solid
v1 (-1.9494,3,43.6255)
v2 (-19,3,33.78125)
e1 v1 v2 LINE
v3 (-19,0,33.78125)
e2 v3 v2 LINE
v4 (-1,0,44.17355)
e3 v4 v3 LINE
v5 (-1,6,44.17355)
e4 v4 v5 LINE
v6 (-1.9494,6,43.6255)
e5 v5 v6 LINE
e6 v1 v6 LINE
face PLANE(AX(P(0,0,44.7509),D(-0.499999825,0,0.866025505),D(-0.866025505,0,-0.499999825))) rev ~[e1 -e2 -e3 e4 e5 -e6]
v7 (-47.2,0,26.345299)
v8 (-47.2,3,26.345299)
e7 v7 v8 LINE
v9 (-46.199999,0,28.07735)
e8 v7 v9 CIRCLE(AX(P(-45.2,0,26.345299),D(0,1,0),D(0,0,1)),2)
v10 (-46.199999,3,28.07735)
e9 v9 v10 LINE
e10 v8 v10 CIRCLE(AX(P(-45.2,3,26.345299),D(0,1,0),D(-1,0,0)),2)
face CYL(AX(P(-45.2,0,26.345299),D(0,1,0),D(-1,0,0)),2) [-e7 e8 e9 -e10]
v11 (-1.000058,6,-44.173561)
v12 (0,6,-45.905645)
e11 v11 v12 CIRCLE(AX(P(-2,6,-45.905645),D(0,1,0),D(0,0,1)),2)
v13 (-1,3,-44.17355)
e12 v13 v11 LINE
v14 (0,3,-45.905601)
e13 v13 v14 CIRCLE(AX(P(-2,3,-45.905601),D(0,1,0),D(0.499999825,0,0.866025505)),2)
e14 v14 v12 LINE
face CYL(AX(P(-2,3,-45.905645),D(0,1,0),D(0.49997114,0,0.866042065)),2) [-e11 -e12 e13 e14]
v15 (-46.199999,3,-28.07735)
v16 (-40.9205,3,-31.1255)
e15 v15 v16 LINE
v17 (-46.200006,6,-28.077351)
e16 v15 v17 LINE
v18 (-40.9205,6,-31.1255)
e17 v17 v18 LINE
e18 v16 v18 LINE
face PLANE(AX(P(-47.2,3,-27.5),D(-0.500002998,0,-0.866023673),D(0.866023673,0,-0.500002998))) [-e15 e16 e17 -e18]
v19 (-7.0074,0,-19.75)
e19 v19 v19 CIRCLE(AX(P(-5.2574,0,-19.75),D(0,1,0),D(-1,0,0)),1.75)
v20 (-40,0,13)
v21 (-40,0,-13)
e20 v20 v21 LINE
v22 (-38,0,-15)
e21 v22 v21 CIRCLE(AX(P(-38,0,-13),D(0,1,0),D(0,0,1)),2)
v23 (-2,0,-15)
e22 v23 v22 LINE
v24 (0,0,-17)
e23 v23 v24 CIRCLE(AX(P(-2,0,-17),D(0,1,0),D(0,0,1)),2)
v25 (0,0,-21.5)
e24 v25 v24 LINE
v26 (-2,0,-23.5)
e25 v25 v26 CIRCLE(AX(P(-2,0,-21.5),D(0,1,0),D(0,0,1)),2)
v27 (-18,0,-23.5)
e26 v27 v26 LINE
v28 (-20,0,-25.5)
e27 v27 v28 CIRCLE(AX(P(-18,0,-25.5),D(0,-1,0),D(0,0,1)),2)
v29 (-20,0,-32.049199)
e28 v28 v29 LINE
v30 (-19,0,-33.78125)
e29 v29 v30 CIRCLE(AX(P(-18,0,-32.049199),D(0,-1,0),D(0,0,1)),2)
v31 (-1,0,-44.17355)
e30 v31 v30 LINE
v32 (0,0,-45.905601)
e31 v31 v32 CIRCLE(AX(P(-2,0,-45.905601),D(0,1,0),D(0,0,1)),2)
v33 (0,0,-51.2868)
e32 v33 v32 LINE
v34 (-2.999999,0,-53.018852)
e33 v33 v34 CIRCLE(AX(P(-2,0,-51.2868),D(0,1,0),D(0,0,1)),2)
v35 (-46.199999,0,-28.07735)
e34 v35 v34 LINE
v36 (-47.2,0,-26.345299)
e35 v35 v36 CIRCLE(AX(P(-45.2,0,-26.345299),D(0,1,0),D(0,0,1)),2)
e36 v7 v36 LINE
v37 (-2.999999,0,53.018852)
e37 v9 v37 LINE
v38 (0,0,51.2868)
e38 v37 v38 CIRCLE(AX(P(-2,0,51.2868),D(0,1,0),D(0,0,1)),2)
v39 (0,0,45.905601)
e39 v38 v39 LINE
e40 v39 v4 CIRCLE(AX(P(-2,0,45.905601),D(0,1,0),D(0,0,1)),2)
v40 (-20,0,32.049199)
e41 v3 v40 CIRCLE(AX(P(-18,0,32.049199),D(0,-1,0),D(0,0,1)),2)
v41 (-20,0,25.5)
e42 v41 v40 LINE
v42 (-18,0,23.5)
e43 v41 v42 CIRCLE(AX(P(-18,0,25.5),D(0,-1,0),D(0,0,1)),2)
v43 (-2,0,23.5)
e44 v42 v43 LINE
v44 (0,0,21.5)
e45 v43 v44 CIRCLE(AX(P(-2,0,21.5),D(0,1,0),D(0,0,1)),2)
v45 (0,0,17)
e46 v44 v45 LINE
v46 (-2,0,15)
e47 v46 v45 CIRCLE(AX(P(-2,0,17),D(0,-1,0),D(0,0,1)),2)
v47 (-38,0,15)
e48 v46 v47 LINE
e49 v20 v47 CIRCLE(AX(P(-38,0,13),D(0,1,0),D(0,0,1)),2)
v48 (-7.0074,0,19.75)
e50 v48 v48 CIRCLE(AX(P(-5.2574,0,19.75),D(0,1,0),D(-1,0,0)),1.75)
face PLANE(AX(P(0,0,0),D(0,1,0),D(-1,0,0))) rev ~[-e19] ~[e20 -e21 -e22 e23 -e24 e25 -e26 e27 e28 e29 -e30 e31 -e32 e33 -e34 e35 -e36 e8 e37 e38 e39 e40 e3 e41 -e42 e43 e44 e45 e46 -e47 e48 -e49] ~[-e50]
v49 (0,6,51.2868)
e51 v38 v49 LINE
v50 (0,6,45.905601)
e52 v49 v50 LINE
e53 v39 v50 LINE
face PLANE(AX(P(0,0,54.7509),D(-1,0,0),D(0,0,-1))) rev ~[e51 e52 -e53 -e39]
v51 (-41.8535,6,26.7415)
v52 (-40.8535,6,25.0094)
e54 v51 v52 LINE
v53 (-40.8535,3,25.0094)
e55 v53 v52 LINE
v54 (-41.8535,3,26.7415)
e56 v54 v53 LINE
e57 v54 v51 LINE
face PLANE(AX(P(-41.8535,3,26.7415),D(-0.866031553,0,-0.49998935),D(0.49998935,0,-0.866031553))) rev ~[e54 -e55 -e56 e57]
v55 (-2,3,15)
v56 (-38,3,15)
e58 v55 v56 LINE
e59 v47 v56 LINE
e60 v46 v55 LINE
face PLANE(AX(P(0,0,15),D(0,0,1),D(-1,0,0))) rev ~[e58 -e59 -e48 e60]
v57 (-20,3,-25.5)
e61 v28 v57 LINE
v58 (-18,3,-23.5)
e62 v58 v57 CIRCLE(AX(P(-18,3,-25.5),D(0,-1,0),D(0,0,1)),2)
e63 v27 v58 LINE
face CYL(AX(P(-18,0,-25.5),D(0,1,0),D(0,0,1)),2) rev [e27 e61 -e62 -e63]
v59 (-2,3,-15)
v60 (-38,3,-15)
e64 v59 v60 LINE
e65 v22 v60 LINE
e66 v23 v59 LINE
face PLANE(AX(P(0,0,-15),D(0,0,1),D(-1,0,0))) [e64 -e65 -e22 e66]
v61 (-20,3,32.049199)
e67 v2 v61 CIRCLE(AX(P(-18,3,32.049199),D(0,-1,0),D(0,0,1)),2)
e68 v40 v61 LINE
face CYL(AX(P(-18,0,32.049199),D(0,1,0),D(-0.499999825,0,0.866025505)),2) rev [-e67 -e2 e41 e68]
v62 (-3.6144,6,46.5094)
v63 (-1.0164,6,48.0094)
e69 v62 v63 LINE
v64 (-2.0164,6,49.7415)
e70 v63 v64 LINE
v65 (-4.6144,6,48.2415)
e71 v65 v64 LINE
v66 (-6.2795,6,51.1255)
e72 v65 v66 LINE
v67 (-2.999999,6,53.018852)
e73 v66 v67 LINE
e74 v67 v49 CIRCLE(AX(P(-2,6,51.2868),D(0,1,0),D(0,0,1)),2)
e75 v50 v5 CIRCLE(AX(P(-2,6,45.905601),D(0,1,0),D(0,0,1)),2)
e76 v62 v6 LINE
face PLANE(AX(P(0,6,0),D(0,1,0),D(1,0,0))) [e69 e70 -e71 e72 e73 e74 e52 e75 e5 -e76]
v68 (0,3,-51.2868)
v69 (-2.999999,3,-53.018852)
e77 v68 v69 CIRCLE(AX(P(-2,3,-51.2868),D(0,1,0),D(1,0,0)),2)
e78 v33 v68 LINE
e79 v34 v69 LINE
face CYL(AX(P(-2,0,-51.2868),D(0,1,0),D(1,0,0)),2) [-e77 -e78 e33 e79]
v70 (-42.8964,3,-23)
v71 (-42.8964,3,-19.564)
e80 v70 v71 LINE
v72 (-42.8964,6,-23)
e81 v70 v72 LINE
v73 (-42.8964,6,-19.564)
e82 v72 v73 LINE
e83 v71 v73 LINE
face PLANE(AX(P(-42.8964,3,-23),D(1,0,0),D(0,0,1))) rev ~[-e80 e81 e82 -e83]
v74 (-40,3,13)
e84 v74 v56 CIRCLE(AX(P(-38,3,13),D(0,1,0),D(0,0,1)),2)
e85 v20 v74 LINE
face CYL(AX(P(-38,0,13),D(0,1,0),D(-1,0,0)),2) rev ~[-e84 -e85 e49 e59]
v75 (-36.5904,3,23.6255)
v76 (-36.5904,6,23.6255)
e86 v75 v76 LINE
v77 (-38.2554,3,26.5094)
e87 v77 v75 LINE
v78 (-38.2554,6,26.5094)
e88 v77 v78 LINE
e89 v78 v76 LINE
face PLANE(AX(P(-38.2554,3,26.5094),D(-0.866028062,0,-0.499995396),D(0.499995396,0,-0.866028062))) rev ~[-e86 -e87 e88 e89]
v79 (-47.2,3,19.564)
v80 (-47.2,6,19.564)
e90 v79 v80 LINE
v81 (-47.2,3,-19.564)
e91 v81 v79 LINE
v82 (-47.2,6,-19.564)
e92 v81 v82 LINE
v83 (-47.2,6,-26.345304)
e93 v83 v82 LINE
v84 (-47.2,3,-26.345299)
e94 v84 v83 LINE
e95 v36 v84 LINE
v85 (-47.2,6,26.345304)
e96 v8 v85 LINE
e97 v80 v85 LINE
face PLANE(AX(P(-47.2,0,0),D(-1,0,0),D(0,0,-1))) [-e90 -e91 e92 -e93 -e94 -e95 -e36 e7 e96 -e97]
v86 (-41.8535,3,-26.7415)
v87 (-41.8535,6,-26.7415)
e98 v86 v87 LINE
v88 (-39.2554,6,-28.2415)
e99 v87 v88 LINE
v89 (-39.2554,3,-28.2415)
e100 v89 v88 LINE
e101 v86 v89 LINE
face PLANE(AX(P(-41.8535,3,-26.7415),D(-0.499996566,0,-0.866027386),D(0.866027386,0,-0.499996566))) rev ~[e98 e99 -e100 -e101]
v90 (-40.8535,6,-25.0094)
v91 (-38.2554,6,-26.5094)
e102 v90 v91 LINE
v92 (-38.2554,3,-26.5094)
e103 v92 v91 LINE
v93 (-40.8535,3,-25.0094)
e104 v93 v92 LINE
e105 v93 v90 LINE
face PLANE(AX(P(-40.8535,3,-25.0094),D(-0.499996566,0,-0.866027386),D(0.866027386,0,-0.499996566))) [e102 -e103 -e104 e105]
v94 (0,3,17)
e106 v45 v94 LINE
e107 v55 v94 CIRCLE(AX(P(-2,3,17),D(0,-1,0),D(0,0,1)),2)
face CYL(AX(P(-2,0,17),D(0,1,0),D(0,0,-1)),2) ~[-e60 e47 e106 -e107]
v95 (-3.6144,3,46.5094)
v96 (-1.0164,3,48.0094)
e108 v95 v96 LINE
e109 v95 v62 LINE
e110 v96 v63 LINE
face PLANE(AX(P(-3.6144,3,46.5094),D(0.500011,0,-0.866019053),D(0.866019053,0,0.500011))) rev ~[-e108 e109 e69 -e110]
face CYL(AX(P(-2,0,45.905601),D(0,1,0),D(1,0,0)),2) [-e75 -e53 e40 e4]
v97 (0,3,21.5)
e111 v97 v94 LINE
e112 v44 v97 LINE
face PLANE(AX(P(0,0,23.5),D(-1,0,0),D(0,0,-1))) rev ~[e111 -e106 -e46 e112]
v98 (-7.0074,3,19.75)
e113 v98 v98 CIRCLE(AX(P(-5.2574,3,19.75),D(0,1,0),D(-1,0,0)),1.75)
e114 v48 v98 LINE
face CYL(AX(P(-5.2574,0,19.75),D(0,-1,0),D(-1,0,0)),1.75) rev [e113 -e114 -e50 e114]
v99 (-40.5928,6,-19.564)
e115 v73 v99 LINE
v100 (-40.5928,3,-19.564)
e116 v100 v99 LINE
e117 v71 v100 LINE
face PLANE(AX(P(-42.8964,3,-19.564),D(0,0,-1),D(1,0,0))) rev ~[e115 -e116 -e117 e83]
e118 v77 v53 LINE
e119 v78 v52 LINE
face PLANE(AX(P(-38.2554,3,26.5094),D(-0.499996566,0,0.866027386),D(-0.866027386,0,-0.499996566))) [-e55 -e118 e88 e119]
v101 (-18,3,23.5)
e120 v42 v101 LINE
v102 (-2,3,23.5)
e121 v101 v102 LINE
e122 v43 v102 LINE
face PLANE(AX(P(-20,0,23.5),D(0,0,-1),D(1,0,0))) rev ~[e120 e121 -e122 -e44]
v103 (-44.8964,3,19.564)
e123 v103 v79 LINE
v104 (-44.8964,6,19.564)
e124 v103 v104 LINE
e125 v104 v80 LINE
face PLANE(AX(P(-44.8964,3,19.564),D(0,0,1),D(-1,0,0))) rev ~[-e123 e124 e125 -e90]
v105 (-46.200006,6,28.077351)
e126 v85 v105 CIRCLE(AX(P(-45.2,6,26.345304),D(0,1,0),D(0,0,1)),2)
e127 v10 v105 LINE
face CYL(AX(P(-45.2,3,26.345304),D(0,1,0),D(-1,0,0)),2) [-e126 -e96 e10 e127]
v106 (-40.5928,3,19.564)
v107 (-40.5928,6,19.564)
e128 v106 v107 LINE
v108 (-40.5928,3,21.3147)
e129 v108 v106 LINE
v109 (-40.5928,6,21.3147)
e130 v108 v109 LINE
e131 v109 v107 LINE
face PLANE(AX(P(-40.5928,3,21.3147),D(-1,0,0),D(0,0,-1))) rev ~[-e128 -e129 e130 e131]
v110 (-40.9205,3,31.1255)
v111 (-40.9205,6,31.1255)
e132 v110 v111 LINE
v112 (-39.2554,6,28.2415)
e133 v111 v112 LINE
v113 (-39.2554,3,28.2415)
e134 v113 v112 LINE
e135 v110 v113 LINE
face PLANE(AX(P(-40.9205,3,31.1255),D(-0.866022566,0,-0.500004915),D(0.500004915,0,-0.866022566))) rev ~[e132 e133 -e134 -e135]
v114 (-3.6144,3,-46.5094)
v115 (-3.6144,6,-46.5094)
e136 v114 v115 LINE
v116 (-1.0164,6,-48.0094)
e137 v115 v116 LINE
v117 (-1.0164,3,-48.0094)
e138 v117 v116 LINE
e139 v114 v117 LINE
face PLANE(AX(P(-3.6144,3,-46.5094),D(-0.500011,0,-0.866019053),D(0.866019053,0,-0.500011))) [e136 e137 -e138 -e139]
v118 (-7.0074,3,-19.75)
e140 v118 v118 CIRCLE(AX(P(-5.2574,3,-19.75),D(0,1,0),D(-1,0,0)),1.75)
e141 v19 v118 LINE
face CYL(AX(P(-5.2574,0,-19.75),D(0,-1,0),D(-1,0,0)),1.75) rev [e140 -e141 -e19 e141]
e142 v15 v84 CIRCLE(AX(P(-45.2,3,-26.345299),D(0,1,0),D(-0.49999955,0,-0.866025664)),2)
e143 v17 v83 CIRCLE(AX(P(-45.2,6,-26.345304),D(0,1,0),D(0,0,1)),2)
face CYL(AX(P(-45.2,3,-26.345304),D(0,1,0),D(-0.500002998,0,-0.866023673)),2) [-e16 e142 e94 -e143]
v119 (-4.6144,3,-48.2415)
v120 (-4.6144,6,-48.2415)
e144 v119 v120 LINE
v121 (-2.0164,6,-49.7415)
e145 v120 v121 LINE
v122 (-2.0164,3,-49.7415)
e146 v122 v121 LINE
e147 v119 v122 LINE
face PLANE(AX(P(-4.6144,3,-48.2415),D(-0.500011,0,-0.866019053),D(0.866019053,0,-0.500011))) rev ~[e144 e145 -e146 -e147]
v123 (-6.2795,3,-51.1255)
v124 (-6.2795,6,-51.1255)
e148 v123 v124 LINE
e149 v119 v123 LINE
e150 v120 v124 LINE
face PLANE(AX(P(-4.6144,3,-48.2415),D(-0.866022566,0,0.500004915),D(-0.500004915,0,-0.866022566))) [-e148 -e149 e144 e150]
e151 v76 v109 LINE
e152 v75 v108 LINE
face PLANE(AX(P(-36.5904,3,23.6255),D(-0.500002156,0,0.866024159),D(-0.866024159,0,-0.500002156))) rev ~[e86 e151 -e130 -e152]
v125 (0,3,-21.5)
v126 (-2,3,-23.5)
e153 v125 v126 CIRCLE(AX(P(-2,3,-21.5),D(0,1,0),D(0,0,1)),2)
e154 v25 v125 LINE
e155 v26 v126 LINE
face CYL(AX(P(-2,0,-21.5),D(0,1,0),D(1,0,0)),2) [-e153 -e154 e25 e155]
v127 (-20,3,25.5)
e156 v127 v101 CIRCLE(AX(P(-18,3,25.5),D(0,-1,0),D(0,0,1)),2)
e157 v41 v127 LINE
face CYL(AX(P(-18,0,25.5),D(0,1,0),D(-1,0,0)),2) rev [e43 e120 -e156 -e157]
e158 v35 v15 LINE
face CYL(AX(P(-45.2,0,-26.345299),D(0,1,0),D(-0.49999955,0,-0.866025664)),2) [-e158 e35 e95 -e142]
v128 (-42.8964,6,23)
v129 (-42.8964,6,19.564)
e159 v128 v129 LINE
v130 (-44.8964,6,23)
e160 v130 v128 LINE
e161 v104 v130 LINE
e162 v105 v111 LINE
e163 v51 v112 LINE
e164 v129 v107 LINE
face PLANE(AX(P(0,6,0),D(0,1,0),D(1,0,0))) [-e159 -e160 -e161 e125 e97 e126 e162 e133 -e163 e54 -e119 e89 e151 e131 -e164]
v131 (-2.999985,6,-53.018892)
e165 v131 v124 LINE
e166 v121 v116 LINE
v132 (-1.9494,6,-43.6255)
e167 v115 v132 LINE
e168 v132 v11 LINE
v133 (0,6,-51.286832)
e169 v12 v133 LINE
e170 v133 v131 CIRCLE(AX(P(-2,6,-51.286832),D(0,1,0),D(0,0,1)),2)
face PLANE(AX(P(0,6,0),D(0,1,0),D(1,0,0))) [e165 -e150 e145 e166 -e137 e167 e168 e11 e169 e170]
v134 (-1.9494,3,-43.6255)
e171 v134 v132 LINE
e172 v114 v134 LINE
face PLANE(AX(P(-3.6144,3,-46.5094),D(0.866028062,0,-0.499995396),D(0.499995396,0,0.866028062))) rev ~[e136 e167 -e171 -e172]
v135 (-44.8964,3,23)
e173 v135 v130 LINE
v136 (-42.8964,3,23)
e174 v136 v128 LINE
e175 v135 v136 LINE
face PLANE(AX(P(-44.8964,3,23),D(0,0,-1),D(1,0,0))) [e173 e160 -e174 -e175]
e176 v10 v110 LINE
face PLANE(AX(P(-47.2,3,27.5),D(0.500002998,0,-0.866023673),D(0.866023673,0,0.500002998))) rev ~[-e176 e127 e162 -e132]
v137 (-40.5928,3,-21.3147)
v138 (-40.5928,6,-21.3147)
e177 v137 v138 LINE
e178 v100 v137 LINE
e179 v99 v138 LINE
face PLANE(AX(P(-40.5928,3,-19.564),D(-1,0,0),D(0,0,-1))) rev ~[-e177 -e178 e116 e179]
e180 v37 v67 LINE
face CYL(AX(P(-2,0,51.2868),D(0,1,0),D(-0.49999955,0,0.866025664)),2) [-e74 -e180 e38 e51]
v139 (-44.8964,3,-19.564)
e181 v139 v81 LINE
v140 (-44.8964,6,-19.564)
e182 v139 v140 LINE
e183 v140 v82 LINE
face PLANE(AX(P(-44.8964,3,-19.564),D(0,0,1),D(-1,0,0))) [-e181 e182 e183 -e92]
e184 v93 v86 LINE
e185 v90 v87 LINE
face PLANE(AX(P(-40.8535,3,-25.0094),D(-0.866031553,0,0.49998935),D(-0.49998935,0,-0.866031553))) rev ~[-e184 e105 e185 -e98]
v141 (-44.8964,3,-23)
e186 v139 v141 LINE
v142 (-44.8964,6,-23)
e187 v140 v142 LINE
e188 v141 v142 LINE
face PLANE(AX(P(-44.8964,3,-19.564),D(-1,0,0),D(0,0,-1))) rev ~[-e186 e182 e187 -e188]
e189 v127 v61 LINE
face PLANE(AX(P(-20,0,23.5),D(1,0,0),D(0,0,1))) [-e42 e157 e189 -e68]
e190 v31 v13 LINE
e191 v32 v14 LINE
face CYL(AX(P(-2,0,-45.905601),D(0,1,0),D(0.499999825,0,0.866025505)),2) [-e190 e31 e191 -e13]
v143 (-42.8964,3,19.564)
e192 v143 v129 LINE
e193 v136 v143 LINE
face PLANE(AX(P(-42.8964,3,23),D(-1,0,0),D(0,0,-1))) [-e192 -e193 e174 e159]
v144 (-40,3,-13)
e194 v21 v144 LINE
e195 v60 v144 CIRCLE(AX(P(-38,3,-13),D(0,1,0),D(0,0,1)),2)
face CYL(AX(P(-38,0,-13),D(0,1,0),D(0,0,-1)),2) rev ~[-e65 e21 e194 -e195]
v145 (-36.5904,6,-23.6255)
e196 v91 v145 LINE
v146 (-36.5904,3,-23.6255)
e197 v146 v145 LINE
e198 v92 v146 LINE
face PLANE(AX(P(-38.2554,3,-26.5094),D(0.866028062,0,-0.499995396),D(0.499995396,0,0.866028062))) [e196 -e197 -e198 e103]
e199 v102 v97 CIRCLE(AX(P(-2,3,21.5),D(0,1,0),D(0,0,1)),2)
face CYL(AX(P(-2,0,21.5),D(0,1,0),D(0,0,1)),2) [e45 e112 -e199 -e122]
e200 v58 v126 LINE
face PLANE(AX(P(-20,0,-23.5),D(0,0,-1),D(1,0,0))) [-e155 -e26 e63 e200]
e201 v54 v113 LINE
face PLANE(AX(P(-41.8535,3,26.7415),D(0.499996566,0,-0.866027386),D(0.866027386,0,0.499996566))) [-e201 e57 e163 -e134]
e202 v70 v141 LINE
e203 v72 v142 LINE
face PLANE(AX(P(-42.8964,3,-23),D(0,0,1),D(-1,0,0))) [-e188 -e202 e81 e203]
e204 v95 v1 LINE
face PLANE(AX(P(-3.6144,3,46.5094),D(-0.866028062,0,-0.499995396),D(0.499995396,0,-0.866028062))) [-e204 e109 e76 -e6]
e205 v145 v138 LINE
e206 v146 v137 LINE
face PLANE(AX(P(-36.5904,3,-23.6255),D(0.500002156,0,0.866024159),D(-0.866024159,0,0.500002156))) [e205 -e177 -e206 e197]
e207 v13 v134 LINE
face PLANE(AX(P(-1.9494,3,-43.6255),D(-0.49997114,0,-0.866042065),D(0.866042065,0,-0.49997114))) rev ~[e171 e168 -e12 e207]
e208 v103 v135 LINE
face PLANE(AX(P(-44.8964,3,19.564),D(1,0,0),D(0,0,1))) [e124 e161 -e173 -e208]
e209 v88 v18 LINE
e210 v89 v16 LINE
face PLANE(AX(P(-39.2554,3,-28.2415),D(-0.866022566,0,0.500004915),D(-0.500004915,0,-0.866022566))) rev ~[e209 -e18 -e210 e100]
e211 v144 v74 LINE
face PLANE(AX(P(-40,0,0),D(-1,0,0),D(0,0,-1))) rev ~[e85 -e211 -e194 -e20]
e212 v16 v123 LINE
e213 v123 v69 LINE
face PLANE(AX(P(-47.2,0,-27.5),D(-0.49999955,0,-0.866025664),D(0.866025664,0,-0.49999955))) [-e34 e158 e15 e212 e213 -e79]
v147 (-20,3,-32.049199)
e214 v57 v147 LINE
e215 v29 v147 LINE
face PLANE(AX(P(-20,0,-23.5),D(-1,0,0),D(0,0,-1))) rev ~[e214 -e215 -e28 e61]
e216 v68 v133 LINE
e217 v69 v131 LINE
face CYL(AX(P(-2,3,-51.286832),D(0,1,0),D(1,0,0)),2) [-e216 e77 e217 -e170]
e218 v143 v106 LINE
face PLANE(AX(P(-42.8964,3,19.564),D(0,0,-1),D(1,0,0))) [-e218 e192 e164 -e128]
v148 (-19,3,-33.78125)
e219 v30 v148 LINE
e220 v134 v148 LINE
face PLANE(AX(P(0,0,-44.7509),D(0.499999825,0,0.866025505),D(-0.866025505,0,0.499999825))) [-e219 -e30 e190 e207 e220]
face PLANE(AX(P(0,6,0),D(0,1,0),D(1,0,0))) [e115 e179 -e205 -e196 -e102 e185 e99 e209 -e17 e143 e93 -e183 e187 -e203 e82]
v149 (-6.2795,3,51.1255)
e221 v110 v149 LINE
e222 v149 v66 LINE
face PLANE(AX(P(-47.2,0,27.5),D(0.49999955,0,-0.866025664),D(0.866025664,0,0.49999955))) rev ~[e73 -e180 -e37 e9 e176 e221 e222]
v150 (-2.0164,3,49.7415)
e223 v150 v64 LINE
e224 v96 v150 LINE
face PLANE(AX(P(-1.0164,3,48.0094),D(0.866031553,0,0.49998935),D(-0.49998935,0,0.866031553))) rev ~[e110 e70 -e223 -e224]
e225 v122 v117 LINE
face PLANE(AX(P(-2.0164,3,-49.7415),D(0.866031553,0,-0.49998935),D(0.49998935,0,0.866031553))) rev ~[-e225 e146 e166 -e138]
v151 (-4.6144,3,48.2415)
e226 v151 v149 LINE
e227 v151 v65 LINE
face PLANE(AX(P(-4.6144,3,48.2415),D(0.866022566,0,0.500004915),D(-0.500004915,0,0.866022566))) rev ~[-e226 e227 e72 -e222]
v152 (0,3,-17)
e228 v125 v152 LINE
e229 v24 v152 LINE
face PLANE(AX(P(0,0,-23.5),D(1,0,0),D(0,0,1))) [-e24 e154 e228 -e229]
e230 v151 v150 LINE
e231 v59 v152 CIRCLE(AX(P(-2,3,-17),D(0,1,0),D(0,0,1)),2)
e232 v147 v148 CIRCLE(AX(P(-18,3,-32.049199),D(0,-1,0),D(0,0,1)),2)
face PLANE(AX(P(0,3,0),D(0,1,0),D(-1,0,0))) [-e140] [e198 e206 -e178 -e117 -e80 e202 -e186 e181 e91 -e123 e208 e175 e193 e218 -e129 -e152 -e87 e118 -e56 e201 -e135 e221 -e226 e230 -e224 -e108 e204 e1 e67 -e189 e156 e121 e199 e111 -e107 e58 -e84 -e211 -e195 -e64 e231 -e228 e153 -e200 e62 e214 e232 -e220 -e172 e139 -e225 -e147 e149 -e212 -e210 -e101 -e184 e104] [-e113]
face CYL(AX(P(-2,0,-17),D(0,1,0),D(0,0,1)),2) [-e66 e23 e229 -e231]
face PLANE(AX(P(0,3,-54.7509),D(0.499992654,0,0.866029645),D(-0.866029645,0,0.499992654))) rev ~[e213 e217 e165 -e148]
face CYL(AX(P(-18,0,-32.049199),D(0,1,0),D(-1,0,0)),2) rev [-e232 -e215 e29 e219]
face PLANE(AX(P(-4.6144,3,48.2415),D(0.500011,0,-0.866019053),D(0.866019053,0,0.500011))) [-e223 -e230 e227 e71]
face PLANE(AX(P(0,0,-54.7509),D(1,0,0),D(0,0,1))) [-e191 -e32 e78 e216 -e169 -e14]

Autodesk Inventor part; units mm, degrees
ref_plane "YZ Plane" through (0, 0, 0) normal (1, 0, 0) x (0, 1, 0)
ref_plane "XZ Plane" through (0, 0, 0) normal (0, 1, 0) x (-1, 0, 0)
ref_plane "XY Plane" through (0, 0, 0) normal (0, 0, 1) x (1, 0, 0)
sketch "Sketch1" plane through (0, 0, 0) normal (0, 1, 0) x (-1, 0, 0)
  line L0 (0, -15) -> (40, -15)
  line L1 (0, -54.7509) -> (0, -44.7509)
  line L2 (20, -23.5) -> (0, -23.5)
  line L3 (0, -23.5) -> (0, -15)
  circle A0 centre (5.2574, -19.75) radius 1.75
  line L4 (47.2, -27.5) -> (0, -54.7509)
  line L5 (0, -44.7509) -> (20, -33.2039)
  line L6 (20, -23.5) -> (20, -33.2039)
  line L7 (0, 15) -> (40, 15)
  line L8 (0, 54.7509) -> (0, 44.7509)
  line L9 (20, 23.5) -> (0, 23.5)
  line L10 (0, 23.5) -> (0, 15)
  circle A1 centre (5.2574, 19.75) radius 1.75
  line L11 (47.2, 27.5) -> (0, 54.7509)
  line L12 (0, 44.7509) -> (20, 33.2039)
  line L13 (20, 23.5) -> (20, 33.2039)
  line L14 (47.2, 27.5) -> (47.2, -27.5)
  line L15 (40, 15) -> (40, -15)
  line L16 (56.64, 0) -> (-9.44, 0) projected
  line L17 (0, -76.6513) -> (0, 76.6513) projected
  point P0 (0, 0)
  point P1 (0, 19.25)
  dimension "d3" = 15
  dimension "d6" = 5.2573
  dimension "d7" = 3.5
  dimension "d8" = 8.5
  dimension "d10" = 10
  dimension "d13" = 47.2
  dimension "d15" = 39.5
  dimension "d29" = 15
  dimension "d30" = 5.2573
  dimension "d31" = 40
  dimension "d32" = 19.75
  dimension "d33" = 8.5
  dimension "d34" = 20
  dimension "d35" = 20
  dimension "d37" = 60
  dimension "d38" = 60
  dimension "d39" = 55
  dimension "d40" = 27.5
  dimension "d41" = 10
  dimension "d68" = 21.2509
extrude "Extrusion1" add sketch "Sketch1" along normal blind 3 contours L0 L15 L16 L14 L4 L1 L5 L6 L2 L3 | L15 L7 L10 L9 L13 L12 L8 L11 L14 L16
sketch "Sketch2" plane through (0, 3, 0) normal (0, 1, 0) x (1, 0, 0)
  line L0 (-42.8964, 23) -> (-44.8964, 23)
  line L1 (-2.0164, 49.7415) -> (-1.0164, 48.0094)
  line L2 (-40.8535, 25.0094) -> (-41.8535, 26.7415)
  line L3 (-1.0164, -48.0094) -> (-2.0164, -49.7415)
  line L4 (-41.8535, -26.7415) -> (-40.8535, -25.0094)
  line L5 (-40.9205, -31.1255) -> (-39.2554, -28.2415)
  line L6 (-38.2554, -26.5094) -> (-36.5904, -23.6255)
  line L7 (-42.8964, -19.564) -> (-40.5928, -19.564)
  line L8 (-44.8964, -19.564) -> (-47.2, -19.564)
  line L9 (-47.2, 27.5) -> (-47.2, -27.5) projected
  line L10 (-47.2, -27.5) -> (-40.9205, -31.1255)
  line L11 (-47.2, -27.5) -> (0, -54.7509) projected
  line L12 (-4.6144, -48.2415) -> (-6.2795, -51.1255)
  line L13 (-3.6144, -46.5094) -> (-1.9494, -43.6255)
  line L14 (0, -44.7509) -> (-20, -33.2039) projected
  line L15 (-39.2554, 28.2415) -> (-40.9205, 31.1255)
  line L16 (-38.2554, 26.5094) -> (-36.5904, 23.6255)
  line L17 (-3.6144, 46.5094) -> (-1.9494, 43.6255)
  line L18 (-4.6144, 48.2415) -> (-6.2795, 51.1255)
  line L19 (-38.2554, -26.5094) -> (-40.8535, -25.0094)
  line L20 (-41.8535, -26.7415) -> (-39.2554, -28.2415)
  line L21 (-42.8964, -23) -> (-42.8964, -19.564)
  line L22 (-4.6144, -48.2415) -> (-2.0164, -49.7415)
  line L23 (-3.6144, -46.5094) -> (-1.0164, -48.0094)
  line L24 (-6.2795, -51.1255) -> (0, -54.7509)
  line L25 (0, -54.7509) -> (0, -44.7509)
  line L26 (0, -44.7509) -> (-1.9494, -43.6255)
  line L27 (-40.8535, 25.0094) -> (-38.2554, 26.5094)
  line L28 (-41.8535, 26.7415) -> (-39.2554, 28.2415)
  line L29 (-3.6144, 46.5094) -> (-1.0164, 48.0094)
  line L30 (-4.6144, 48.2415) -> (-2.0164, 49.7415)
  line L31 (-1.9494, 43.6255) -> (0, 44.7509)
  line L32 (0, 54.7509) -> (-6.2795, 51.1255)
  line L33 (0, 44.7509) -> (0, 54.7509)
  line L34 (-42.8964, 23) -> (-42.8964, 19.564)
  line L35 (-42.8964, 19.564) -> (-40.5928, 19.564)
  line L36 (-44.8964, 19.564) -> (-47.2, 19.564)
  line L37 (-47.2, 19.564) -> (-47.2, 27.5)
  line L38 (-47.2, 27.5) -> (-40.9205, 31.1255)
  line L39 (0, 54.7509) -> (-47.2, 27.5) projected
  line L40 (-20, 33.2039) -> (0, 44.7509) projected
  line L41 (-44.8964, -19.564) -> (-44.8964, -23)
  line L42 (-44.8964, -23) -> (-42.8964, -23)
  line L43 (-36.5904, 23.6255) -> (-40.5928, 21.3147)
  line L44 (-36.5904, -23.6255) -> (-40.5928, -21.3147)
  line L45 (-40.5928, -21.3147) -> (-40.5928, -19.564)
  line L46 (-40.5928, 19.564) -> (-40.5928, 21.3147)
  line L47 (-47.2, -27.5) -> (-47.2, -19.564)
  line L48 (-44.8964, 19.564) -> (-44.8964, 23)
  point P0 (0, 0)
  dimension "d20" = 2
  dimension "d21" = 46
  dimension "d25" = 2
  dimension "d44" = 3.3301
  dimension "d45" = 3.3301
  dimension "d46" = 46
  dimension "d47" = 3
  dimension "d48" = 3
  dimension "d49" = 7.2509
  dimension "d50" = 7.2509
  dimension "d53" = 3.3301
  dimension "d54" = 3.3301
  dimension "d55" = 3
  dimension "d56" = 3
  dimension "d57" = 7.2509
  dimension "d58" = 7.2509
  dimension "d59" = 2
  dimension "d61" = 2.3036
  dimension "d62" = 2.3036
  dimension "d63" = 2.3036
  dimension "d64" = 2.3036
  dimension "d72" = 46
  dimension "d73" = 2
  dimension "d74" = 2
  dimension "d75" = 3.3301
  dimension "d76" = 3.3301
  dimension "d77" = 7.936
  dimension "d78" = 7.936
extrude "Extrusion2" add sketch "Sketch2" along normal blind 3
fillet "Fillet1" radius 2 16 edges at (-47.2, 3, -27.5) (-47.2, 3, 27.5) (0, 3, 54.7509) (0, 3, 44.7509) (0, 1.5, -15) (0, 1.5, 23.5) (0, 1.5, 15) (0, 1.5, -23.5) (0, 3, -44.7509) (0, 3, -54.7509) (-20, 1.5, -23.5) (-20, 1.5, -33.2039) (-20, 1.5, 33.2039) (-20, 1.5, 23.5) (-40, 1.5, 15) (-40, 1.5, -15)
equation "\"d30\" = d6"
equation "\"d32\" = 0.5 * d15"
equation "\"d33\" = d8"
equation "\"d35\" = d34"
properties part number "walle"
